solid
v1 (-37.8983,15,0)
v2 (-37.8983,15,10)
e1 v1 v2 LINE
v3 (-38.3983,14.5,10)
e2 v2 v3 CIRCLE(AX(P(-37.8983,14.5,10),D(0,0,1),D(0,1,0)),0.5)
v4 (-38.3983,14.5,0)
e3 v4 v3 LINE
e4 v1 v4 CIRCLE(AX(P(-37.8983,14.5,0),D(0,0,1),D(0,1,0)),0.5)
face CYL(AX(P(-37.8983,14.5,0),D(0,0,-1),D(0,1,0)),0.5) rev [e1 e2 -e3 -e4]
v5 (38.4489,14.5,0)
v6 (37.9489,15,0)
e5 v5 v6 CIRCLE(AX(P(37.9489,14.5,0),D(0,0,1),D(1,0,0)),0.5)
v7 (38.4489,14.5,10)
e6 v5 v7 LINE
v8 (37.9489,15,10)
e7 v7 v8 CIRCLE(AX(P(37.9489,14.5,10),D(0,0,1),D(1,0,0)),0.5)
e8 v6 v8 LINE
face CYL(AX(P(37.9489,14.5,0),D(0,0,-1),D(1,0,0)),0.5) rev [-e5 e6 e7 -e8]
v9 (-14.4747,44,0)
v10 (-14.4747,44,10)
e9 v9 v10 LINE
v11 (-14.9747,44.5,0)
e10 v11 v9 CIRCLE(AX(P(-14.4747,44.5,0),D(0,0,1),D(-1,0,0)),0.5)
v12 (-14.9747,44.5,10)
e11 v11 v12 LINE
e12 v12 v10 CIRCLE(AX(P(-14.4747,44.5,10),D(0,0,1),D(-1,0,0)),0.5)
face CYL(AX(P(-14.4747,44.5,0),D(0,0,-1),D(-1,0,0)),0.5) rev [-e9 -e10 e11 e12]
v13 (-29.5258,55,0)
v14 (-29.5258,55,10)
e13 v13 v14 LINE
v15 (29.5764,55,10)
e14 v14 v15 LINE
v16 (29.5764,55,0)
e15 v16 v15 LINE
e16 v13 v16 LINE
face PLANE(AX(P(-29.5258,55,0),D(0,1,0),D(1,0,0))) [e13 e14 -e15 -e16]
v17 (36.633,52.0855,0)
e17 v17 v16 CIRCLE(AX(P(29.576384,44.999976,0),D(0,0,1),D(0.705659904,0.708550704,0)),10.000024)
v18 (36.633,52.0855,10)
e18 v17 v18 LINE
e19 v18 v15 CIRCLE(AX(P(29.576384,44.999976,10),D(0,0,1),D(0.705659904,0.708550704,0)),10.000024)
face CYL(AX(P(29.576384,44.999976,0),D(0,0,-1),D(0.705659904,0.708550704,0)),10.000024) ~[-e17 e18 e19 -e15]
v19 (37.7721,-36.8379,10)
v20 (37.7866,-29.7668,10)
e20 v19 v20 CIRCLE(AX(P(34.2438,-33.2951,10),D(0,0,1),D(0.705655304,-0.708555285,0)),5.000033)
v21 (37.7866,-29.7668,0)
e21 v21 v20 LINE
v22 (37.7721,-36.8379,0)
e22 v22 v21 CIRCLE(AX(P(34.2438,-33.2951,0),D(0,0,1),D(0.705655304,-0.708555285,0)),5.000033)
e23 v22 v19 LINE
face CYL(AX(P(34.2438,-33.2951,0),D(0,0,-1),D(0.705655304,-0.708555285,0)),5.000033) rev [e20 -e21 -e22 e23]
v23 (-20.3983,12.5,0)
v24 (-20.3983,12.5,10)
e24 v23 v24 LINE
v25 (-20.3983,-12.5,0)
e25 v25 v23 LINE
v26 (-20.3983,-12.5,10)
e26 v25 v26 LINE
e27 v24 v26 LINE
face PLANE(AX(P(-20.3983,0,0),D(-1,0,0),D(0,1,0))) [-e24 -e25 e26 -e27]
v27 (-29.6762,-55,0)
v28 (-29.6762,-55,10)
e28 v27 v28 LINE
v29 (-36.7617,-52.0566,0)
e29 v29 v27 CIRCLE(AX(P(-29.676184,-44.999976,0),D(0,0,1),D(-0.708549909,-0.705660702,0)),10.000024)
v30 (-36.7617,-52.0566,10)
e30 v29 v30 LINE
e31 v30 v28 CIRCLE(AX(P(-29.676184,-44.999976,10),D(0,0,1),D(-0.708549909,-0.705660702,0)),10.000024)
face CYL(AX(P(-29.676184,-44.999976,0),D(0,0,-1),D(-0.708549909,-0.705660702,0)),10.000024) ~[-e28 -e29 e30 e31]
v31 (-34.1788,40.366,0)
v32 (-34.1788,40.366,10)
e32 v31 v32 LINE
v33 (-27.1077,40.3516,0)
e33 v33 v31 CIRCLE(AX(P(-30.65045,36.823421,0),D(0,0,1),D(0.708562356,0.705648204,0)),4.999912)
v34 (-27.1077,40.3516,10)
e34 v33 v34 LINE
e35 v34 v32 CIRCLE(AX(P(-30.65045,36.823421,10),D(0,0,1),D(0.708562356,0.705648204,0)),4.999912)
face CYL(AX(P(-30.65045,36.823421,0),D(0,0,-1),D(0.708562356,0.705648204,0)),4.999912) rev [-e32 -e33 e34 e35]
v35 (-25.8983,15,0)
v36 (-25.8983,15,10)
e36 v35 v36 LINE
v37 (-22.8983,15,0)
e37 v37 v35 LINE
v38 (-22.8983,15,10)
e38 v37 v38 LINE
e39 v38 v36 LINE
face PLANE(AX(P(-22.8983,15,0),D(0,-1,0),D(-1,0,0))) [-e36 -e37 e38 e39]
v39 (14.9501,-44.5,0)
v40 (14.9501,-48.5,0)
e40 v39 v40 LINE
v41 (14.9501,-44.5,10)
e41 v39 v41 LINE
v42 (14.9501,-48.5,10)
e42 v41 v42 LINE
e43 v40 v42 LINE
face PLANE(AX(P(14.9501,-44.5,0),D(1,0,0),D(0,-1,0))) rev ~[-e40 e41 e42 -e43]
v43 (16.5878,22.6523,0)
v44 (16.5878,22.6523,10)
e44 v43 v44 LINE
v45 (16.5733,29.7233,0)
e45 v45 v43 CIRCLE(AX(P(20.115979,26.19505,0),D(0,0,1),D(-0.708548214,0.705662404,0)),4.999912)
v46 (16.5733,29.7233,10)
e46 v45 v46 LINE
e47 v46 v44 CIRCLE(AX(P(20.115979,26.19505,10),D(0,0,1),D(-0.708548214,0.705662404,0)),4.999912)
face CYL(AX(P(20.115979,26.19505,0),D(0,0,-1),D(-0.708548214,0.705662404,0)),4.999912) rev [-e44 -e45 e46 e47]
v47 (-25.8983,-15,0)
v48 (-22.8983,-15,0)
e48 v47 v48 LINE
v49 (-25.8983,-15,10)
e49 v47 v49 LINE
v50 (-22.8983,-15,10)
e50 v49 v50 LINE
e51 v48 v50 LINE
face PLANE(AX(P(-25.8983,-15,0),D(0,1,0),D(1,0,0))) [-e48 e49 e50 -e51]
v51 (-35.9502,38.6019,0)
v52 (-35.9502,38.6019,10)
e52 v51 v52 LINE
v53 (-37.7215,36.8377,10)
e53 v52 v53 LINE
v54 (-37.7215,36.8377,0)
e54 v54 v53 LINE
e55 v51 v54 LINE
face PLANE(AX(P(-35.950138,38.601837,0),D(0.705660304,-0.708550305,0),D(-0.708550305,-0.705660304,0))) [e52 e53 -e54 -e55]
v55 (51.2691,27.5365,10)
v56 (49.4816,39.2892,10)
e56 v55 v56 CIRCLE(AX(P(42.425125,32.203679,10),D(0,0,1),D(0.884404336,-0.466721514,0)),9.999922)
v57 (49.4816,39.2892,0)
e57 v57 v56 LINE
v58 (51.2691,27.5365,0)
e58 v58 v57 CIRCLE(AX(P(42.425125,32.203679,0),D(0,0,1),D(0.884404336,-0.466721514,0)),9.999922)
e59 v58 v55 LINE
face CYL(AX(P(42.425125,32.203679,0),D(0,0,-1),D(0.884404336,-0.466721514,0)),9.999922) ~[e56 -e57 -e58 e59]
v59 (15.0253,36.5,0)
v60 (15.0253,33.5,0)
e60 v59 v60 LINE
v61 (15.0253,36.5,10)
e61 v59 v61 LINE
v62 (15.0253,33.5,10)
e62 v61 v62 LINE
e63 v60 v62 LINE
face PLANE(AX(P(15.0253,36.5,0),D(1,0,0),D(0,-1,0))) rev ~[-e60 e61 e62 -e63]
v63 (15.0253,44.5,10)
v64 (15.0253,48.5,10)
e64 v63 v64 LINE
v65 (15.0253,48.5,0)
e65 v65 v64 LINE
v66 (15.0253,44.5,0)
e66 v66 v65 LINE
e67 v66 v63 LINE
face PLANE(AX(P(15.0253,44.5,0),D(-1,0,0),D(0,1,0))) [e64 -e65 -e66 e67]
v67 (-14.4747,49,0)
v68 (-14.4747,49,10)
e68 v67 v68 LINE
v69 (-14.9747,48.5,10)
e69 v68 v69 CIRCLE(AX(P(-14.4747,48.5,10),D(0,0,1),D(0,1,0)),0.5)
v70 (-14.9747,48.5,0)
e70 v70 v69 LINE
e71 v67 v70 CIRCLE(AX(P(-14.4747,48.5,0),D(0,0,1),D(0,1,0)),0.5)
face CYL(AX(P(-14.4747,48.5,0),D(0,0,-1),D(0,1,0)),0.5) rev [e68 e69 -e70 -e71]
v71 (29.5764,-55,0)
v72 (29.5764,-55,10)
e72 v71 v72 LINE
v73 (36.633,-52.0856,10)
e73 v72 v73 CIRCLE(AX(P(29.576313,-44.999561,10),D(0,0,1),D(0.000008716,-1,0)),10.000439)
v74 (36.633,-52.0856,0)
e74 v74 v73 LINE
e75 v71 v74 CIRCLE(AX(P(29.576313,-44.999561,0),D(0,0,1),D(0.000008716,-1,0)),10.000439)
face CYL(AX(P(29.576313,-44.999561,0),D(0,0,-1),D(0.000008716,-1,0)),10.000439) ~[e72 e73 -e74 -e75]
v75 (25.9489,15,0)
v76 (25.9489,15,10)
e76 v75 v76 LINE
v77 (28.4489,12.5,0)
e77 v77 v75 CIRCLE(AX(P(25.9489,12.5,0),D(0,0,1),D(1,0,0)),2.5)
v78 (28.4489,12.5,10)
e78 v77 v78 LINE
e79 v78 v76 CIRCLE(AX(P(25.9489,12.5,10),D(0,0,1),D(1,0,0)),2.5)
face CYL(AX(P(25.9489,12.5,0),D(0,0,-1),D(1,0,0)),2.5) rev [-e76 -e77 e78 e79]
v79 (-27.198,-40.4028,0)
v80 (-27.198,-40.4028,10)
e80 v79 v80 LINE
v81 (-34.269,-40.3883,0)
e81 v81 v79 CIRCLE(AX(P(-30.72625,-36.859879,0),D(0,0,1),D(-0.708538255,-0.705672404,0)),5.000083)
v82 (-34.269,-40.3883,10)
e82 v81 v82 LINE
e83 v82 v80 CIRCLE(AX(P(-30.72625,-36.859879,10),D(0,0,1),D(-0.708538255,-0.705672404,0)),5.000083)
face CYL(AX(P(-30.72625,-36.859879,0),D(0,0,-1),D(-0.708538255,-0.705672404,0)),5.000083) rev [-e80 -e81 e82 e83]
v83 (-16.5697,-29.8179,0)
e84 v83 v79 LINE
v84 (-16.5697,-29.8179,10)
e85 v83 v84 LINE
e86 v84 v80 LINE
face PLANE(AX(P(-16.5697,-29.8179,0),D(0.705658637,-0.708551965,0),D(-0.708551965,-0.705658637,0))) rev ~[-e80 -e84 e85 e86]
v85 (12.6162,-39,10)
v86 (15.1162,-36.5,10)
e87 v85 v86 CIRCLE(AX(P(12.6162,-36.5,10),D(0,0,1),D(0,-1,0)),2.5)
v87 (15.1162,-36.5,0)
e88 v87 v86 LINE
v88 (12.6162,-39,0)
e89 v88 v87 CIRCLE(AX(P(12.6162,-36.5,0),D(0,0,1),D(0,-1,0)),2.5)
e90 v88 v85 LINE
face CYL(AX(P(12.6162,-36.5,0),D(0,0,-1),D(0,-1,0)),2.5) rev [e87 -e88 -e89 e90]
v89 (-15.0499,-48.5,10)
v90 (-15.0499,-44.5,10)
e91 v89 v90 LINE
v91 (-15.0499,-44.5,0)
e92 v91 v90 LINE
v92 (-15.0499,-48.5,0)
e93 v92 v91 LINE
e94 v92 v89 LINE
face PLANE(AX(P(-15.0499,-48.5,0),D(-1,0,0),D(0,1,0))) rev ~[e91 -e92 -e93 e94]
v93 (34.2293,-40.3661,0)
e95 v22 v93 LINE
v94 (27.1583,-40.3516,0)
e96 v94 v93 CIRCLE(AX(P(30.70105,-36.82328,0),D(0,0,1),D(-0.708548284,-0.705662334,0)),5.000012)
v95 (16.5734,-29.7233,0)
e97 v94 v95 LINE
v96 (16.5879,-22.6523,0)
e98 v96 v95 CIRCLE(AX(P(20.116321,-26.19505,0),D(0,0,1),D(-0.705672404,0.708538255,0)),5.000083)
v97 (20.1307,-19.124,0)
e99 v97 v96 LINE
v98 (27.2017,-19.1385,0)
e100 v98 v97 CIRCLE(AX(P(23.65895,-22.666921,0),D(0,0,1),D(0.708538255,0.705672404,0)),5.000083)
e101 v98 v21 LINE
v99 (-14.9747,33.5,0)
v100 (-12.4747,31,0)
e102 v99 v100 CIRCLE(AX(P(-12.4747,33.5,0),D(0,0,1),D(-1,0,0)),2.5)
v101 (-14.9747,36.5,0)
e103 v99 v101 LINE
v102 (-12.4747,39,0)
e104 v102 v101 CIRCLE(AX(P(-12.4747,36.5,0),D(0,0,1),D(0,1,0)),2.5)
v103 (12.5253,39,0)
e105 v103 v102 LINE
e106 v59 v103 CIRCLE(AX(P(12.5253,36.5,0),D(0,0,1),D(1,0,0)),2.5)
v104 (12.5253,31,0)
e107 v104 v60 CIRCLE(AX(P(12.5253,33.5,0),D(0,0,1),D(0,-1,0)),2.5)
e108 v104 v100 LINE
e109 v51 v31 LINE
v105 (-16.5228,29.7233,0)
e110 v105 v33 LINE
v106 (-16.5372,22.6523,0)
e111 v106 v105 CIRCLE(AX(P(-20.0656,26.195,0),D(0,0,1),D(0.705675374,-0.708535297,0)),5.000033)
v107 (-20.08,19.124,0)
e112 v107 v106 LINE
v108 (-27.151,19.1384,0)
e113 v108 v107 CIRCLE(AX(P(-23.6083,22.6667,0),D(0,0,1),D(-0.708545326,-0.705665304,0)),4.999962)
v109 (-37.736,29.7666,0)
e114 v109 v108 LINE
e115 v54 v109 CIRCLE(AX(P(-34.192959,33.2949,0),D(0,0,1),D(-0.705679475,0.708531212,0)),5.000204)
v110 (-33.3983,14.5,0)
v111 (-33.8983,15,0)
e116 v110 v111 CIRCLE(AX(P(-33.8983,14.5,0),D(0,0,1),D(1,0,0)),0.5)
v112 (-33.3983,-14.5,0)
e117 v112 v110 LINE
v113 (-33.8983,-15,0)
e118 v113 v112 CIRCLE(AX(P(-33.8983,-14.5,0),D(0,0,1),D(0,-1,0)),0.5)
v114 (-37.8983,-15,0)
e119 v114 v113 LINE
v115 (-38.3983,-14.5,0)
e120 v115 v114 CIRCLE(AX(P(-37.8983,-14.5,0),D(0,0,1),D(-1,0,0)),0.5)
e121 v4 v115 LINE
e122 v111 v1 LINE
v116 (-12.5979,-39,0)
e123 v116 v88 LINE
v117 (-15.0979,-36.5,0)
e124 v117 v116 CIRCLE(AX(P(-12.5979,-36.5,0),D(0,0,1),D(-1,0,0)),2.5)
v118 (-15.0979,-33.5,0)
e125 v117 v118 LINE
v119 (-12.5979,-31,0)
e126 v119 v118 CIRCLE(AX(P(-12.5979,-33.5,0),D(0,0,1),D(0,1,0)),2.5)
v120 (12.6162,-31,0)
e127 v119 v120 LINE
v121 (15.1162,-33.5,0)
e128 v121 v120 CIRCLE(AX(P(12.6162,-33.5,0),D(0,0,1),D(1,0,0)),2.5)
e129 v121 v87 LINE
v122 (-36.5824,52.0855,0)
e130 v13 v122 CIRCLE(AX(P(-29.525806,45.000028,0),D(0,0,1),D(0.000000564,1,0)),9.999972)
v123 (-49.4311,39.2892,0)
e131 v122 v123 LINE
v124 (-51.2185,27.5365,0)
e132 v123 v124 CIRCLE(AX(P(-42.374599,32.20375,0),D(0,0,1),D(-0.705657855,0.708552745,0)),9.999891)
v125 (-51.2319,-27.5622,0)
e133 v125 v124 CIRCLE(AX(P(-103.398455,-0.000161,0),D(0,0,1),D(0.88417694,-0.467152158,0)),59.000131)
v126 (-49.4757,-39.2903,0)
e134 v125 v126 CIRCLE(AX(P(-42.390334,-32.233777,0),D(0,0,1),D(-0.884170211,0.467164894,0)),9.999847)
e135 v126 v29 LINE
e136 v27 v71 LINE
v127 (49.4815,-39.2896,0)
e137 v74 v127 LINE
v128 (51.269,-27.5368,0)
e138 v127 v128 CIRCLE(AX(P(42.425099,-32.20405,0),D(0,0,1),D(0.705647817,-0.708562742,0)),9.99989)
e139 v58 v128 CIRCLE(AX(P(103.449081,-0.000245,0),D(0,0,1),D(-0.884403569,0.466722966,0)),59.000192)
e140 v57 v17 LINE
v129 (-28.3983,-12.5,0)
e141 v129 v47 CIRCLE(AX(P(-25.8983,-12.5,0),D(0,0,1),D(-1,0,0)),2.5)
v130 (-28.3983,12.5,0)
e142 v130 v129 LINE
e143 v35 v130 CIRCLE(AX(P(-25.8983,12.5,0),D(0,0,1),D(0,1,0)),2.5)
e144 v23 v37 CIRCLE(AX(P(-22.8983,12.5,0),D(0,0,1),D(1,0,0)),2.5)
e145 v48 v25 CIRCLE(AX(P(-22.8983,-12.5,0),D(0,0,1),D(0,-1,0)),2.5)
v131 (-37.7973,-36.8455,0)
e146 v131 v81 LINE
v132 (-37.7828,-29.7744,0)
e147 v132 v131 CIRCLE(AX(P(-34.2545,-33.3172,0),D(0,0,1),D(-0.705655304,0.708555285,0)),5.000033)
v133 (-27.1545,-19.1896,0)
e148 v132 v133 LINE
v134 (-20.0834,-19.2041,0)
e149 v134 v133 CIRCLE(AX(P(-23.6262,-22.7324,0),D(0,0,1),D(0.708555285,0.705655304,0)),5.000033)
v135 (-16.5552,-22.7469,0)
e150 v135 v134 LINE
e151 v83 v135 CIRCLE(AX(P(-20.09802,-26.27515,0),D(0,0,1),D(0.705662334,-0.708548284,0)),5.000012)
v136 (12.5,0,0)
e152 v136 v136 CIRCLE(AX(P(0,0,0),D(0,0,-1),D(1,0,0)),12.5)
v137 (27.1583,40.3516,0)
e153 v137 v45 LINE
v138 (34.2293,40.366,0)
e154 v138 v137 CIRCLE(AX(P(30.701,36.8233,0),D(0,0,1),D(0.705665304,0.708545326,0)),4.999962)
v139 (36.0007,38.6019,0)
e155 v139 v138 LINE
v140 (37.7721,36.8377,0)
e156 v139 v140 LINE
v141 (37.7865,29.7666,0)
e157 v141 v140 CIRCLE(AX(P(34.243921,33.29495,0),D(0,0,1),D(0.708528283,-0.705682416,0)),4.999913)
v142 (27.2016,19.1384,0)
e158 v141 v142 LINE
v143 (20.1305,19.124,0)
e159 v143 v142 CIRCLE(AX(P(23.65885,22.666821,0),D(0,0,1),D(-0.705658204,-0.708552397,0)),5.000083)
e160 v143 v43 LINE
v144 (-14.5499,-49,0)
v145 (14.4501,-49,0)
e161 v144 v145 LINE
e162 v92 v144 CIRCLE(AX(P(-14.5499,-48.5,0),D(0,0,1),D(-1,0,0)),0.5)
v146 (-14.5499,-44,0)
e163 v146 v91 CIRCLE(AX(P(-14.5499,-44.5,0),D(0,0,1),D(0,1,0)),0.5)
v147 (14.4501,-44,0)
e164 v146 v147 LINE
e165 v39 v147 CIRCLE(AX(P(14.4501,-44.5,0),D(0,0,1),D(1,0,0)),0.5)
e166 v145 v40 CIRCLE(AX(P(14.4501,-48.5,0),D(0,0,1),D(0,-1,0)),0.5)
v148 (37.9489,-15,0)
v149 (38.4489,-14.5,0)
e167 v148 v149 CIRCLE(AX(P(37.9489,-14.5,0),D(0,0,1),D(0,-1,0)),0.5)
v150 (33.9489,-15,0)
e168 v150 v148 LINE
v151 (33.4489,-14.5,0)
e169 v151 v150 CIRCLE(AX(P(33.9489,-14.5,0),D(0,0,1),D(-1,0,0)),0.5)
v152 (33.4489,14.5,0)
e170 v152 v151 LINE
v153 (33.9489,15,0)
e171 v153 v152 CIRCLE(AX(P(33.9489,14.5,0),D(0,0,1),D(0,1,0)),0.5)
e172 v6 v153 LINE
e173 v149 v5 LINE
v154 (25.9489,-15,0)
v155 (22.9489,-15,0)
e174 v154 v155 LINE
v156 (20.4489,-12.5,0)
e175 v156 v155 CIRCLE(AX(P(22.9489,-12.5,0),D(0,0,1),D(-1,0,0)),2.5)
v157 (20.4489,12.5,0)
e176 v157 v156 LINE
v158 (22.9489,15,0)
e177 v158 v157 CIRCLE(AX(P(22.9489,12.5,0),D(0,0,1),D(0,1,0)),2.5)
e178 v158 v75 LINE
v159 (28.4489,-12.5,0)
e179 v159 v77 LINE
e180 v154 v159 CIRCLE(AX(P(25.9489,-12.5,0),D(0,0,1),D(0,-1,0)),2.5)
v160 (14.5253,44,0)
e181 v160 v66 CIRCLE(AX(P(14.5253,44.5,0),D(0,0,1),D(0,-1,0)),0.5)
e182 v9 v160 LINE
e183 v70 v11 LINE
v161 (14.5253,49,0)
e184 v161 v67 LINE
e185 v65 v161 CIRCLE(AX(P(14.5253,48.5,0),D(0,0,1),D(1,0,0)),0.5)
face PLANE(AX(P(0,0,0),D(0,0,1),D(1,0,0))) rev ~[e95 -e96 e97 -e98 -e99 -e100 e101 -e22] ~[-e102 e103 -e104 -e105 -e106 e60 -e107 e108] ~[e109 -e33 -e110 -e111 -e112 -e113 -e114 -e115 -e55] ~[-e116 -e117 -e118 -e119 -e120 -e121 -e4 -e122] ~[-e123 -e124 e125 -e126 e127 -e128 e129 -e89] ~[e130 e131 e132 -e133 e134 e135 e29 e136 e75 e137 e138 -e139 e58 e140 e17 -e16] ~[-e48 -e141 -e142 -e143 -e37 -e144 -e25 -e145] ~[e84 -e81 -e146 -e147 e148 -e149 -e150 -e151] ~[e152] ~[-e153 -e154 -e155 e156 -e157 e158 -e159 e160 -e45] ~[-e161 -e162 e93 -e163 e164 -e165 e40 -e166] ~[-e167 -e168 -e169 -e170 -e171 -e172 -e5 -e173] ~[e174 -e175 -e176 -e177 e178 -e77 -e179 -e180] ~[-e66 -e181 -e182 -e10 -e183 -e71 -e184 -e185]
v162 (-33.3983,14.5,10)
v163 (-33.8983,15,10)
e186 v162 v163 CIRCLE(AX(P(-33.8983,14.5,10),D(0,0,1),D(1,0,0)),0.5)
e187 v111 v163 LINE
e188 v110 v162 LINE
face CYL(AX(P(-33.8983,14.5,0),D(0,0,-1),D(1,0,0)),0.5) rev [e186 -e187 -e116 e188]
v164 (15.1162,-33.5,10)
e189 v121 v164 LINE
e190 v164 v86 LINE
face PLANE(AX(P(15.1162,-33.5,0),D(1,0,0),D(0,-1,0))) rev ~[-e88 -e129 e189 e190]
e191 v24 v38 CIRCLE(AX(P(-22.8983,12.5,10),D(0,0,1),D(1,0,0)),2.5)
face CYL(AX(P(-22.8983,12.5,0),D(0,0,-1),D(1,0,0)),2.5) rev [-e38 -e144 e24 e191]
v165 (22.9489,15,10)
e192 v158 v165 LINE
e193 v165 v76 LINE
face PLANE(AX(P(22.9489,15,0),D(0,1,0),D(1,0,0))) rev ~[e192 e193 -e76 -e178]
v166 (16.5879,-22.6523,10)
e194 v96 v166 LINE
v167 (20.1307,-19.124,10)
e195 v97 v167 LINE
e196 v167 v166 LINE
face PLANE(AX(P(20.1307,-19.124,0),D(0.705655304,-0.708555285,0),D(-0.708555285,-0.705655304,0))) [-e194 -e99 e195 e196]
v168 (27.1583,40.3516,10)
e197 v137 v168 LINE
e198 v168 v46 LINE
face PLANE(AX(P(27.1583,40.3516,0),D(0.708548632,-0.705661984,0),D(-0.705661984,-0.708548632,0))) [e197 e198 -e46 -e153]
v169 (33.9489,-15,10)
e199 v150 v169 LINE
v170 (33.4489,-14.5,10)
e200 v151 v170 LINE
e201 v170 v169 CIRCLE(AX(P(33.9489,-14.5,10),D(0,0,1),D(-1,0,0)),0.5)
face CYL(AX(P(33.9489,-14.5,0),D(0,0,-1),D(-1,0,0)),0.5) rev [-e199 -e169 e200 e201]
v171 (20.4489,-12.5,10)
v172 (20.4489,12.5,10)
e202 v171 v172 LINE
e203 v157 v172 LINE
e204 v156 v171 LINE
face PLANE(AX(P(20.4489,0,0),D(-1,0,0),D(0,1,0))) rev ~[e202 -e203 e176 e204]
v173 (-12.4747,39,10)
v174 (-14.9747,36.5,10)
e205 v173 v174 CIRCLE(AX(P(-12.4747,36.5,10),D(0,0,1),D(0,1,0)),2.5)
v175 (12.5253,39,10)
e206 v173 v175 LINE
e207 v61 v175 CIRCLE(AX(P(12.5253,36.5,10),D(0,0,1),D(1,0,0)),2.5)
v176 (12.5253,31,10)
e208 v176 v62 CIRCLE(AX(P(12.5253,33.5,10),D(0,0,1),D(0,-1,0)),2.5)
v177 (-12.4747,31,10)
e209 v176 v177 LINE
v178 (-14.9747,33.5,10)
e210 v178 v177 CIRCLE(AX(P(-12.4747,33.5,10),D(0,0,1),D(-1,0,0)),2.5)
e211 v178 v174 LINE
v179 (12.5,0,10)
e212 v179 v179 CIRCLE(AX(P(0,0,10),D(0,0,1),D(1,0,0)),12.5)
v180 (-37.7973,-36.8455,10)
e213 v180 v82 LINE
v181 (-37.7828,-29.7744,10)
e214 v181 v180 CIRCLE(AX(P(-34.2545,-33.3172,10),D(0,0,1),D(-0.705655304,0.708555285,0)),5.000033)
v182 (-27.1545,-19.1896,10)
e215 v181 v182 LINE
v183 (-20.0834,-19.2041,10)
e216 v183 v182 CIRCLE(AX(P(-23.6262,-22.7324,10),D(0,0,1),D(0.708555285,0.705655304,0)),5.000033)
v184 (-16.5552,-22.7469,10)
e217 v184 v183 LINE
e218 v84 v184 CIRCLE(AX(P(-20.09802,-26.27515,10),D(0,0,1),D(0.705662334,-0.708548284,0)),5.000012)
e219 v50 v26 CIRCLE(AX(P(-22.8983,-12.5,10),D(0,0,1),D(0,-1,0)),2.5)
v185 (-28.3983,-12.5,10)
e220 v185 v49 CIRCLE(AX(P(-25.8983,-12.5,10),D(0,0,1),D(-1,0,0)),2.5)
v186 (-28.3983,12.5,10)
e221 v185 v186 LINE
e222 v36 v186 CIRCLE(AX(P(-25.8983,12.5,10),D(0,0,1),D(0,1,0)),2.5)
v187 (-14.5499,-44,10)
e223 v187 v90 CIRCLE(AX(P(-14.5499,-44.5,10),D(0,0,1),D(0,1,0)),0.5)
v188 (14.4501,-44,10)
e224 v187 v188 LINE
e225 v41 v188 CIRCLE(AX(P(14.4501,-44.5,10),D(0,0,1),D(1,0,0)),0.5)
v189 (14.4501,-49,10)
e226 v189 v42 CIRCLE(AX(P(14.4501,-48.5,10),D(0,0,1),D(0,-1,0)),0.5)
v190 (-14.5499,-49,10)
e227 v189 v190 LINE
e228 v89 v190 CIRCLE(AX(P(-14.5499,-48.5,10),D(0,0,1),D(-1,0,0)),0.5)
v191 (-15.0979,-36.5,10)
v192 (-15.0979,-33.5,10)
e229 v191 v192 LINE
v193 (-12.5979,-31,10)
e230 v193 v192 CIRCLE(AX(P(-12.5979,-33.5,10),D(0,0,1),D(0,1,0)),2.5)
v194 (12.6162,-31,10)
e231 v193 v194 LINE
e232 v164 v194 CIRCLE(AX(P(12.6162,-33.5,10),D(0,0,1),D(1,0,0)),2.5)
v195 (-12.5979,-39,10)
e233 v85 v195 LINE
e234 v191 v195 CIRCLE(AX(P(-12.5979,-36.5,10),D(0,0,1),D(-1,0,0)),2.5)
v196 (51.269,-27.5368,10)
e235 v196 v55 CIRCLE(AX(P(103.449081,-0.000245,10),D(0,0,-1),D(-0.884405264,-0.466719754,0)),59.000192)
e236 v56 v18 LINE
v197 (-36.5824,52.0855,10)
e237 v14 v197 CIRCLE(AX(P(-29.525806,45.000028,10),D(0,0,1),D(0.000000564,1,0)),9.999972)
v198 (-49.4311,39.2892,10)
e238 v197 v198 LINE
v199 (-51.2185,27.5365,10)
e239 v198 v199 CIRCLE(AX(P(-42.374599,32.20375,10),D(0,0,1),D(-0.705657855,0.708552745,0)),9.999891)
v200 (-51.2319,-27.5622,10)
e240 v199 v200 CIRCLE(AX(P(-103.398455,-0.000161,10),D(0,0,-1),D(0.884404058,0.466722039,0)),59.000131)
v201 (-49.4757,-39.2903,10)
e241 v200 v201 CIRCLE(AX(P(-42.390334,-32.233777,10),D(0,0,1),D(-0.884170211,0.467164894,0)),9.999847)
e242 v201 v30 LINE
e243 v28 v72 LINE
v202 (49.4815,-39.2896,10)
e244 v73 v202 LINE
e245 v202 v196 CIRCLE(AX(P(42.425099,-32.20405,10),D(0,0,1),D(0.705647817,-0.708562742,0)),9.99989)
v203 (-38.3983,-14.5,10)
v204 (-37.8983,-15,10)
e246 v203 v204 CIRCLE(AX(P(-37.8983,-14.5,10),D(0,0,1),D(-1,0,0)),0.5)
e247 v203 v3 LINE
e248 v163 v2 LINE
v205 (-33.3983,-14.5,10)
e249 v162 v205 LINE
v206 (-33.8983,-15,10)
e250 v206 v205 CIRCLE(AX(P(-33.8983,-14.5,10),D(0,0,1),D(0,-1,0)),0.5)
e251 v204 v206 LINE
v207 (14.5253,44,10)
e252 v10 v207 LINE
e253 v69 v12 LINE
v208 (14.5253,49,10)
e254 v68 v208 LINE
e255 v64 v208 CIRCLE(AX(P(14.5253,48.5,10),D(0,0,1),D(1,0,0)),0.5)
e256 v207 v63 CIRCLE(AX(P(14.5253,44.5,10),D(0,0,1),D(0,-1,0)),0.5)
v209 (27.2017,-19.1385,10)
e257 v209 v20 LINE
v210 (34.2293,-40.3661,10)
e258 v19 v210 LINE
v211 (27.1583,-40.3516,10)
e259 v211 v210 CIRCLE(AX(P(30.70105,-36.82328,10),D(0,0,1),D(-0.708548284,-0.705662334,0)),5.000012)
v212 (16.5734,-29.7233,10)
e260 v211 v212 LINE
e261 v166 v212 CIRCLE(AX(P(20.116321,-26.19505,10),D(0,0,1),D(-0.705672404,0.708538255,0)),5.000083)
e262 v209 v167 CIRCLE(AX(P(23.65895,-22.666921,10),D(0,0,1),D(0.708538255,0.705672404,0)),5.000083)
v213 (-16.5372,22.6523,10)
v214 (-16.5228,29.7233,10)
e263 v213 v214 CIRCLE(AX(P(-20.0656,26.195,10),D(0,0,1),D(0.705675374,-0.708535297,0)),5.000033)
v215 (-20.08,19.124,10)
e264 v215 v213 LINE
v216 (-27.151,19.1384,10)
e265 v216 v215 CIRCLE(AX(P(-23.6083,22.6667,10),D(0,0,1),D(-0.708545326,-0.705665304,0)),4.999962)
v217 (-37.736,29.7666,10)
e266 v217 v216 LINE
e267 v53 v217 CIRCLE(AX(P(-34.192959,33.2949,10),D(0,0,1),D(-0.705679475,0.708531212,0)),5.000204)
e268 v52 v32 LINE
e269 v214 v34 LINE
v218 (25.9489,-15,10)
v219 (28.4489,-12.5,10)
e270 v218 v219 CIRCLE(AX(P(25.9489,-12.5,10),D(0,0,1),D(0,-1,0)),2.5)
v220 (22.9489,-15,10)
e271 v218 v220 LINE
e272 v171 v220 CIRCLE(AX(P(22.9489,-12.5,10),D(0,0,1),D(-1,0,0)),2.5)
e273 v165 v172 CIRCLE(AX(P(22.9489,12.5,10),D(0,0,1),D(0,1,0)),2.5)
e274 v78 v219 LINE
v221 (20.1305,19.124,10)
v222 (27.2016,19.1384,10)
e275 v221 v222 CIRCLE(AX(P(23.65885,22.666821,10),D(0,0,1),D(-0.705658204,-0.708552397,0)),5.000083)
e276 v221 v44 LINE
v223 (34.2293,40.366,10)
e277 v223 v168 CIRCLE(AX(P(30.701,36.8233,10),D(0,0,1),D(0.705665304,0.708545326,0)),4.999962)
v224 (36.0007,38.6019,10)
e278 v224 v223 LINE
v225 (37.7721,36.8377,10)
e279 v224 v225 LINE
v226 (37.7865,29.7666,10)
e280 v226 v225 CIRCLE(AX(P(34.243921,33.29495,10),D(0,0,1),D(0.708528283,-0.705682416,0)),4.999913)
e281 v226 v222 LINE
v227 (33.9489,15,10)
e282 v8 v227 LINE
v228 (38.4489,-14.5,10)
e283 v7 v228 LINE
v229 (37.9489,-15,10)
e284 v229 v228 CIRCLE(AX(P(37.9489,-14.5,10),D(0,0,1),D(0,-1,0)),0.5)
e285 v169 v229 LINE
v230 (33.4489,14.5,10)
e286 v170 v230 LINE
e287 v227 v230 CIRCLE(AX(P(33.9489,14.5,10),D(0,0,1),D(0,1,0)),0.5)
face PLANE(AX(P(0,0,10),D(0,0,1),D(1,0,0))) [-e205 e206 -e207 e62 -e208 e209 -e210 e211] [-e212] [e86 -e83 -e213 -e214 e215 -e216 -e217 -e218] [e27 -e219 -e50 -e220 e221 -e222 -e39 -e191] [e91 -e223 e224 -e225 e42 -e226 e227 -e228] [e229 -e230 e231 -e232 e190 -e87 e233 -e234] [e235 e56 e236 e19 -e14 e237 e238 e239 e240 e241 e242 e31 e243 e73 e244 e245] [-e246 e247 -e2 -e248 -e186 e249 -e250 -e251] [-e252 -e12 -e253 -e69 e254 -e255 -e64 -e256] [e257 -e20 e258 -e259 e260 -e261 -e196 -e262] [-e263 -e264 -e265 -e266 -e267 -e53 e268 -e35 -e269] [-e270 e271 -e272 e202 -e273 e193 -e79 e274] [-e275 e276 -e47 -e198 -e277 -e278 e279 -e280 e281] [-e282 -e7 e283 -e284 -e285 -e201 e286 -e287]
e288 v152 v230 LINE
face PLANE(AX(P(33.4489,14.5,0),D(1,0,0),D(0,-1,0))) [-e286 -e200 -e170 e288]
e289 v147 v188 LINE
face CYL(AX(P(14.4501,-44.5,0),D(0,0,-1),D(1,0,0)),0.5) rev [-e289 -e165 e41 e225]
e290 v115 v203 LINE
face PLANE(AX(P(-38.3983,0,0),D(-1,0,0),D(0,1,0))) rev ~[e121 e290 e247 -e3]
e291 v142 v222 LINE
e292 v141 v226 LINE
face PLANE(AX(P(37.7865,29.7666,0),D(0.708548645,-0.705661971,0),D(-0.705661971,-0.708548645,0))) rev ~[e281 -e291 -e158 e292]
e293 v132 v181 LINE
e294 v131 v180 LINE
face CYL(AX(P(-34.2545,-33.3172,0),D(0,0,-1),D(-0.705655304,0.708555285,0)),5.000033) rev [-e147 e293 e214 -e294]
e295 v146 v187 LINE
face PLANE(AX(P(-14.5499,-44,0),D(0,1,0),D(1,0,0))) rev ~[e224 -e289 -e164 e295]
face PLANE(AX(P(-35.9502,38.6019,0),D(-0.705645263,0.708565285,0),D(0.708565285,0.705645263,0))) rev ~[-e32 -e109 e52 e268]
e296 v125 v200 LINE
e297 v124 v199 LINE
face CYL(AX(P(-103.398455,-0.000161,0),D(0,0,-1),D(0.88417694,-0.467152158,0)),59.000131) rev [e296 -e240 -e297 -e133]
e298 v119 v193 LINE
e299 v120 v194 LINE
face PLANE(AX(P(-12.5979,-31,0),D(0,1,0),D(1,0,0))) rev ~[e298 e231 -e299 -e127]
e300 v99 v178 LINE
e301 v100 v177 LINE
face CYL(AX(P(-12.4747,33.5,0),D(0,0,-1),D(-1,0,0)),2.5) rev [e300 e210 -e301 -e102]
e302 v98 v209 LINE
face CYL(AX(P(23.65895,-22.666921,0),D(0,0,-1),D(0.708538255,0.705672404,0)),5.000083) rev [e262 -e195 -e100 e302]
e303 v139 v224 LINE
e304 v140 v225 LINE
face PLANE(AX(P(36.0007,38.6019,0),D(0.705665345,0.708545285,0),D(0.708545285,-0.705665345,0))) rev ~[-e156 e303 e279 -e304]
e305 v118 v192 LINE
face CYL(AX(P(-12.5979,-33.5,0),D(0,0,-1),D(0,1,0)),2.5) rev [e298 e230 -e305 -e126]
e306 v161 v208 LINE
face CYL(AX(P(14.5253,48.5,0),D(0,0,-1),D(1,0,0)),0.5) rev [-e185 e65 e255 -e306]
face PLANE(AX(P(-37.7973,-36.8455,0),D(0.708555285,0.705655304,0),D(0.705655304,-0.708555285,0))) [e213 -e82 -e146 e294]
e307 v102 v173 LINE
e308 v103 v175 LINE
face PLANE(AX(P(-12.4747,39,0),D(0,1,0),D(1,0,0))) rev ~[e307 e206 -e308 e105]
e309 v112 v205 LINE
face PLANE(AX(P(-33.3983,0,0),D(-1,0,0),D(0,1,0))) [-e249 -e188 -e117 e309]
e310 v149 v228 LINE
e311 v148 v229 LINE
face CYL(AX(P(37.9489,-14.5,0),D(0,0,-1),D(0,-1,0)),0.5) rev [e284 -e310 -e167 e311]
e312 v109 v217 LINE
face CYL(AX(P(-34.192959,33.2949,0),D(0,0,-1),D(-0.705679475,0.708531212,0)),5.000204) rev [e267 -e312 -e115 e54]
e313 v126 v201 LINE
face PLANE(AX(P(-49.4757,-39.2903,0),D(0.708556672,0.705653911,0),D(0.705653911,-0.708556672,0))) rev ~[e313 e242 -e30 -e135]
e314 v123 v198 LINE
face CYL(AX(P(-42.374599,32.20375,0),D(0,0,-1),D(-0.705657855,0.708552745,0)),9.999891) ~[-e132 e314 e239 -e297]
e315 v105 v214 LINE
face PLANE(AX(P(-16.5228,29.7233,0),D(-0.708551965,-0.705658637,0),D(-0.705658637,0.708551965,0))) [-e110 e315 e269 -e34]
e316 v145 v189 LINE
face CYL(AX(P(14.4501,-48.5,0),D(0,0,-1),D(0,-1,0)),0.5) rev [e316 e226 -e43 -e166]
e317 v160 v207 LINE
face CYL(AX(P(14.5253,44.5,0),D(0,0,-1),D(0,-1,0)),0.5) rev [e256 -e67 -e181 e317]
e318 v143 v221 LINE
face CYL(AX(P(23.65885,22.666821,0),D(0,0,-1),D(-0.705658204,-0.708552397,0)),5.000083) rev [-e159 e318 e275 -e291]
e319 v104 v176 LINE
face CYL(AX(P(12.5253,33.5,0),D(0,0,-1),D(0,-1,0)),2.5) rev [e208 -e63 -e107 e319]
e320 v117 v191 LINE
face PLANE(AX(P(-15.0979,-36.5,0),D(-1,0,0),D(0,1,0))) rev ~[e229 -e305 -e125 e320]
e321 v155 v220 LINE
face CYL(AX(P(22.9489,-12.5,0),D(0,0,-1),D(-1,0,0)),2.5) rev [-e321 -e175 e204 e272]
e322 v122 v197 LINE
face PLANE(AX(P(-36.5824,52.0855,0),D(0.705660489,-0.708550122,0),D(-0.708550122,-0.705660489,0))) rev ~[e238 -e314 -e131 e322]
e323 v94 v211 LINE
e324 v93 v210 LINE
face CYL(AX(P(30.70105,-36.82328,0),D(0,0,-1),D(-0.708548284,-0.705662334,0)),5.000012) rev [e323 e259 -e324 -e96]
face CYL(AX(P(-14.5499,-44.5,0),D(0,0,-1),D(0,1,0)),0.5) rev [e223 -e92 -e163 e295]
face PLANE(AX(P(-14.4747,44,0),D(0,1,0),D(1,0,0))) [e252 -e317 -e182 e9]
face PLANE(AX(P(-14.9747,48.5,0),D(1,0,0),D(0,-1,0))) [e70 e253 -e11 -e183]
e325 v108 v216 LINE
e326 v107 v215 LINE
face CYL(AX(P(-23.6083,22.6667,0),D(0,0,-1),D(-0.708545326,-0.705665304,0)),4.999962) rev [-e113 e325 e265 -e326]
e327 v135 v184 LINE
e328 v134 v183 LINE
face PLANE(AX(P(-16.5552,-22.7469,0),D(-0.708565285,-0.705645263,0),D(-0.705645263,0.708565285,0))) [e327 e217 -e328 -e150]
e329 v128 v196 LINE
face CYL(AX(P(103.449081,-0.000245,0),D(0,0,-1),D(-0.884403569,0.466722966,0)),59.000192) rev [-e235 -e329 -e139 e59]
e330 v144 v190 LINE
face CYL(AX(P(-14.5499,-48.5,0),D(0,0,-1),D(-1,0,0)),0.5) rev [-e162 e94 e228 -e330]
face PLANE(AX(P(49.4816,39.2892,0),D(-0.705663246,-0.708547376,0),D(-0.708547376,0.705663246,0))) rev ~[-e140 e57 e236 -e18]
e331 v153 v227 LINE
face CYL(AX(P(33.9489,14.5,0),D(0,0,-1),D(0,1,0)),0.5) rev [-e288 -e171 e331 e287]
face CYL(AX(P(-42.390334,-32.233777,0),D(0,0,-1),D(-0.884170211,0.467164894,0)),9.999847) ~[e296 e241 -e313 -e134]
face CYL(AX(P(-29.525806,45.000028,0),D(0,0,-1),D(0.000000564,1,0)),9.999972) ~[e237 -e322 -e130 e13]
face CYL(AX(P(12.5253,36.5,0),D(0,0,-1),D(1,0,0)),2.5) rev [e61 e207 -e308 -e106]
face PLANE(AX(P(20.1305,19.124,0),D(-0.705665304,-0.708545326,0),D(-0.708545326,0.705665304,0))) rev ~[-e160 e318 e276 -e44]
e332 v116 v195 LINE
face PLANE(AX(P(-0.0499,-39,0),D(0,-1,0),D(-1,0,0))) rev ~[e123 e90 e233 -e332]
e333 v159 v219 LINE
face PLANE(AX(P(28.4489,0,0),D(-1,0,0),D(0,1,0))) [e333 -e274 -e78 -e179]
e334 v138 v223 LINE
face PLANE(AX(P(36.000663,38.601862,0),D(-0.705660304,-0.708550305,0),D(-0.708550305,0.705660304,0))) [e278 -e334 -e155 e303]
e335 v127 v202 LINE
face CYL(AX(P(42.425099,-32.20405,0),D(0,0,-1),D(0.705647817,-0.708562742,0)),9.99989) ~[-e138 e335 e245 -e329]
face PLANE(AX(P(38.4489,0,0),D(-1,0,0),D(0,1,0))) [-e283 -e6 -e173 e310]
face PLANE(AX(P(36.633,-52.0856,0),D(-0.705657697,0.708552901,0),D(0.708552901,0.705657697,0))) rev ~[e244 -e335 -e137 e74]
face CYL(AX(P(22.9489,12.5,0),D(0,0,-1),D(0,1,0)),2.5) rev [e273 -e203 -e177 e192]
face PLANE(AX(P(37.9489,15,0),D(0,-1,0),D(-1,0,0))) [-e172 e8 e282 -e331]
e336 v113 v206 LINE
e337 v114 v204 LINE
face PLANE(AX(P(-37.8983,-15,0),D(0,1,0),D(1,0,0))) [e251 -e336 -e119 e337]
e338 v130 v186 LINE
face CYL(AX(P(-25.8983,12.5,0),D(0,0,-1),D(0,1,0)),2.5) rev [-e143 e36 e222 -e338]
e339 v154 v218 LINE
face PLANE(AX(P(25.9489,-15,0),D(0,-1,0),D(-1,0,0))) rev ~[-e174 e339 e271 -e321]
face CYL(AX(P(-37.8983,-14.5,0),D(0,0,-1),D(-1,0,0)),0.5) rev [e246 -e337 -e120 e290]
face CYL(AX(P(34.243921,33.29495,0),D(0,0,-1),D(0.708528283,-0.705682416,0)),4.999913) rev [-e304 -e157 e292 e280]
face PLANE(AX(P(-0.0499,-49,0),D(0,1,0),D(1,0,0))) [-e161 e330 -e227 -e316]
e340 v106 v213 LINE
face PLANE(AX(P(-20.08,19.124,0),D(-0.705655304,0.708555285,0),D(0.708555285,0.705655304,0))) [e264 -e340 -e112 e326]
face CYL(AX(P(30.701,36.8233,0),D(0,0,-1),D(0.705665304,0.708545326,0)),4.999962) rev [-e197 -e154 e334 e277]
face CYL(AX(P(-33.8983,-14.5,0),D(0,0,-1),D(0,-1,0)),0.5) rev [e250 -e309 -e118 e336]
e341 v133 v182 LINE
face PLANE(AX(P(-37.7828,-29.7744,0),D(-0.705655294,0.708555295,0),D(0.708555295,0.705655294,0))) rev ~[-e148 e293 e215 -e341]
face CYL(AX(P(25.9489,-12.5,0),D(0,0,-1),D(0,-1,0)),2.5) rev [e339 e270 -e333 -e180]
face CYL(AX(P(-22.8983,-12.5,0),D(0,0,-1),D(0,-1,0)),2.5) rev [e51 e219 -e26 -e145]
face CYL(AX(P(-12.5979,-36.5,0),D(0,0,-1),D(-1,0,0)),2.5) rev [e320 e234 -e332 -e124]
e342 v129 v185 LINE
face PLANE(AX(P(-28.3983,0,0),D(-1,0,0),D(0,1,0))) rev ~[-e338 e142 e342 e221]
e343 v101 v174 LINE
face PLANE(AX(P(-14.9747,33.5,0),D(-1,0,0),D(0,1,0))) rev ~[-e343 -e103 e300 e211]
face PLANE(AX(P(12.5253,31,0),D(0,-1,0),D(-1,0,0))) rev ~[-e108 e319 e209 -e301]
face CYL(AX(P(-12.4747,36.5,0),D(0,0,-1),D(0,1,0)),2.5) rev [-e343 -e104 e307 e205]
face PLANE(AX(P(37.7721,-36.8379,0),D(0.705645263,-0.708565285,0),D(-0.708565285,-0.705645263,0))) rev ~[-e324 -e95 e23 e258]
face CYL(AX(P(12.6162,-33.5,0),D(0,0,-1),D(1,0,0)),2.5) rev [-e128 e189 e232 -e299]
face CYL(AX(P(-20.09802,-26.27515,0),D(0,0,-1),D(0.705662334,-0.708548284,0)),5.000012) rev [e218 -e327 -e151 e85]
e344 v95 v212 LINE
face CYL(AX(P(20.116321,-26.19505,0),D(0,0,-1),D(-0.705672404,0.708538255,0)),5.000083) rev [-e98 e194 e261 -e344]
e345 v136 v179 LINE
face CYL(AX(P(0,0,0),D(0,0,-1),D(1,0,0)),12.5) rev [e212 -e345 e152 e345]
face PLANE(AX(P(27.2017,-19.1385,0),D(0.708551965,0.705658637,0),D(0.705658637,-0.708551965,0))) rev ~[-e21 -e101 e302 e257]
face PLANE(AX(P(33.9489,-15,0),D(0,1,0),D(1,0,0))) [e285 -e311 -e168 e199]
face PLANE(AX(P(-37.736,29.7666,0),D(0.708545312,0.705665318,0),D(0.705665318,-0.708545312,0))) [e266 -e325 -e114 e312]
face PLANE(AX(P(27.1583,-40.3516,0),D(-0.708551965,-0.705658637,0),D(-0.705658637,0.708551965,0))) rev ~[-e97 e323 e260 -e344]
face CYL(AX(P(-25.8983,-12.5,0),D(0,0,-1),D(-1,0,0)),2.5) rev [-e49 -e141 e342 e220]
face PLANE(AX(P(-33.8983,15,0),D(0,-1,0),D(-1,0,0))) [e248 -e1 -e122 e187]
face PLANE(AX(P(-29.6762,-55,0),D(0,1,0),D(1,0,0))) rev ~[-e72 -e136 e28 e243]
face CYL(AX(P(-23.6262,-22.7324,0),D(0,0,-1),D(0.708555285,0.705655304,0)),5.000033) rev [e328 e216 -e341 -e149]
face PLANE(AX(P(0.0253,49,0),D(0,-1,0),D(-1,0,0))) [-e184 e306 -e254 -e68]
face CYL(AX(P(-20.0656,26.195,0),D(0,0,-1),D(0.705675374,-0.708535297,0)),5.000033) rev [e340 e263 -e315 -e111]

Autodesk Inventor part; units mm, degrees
ref_plane "YZ Plane" through (0, 0, 0) normal (1, 0, 0) x (0, 1, 0)
ref_plane "XZ Plane" through (0, 0, 0) normal (0, 1, 0) x (-1, 0, 0)
ref_plane "XY Plane" through (0, 0, 0) normal (0, 0, 1) x (1, 0, 0)
sketch "Sketch1" plane through (0, 0, 0) normal (0, 0, 1) x (1, 0, 0)
  line L0 (0, 0) -> (55, 0)
  line L1 (55, 0) -> (-55, 0)
  line L2 (-55, 0) -> (-55, 55)
  line L3 (-55, 33.743) -> (-55, -33.7433)
  line L4 (-29.6762, -55) -> (29.5764, -55)
  line L5 (-29.5258, 55) -> (29.5764, 55)
  line L6 (55.0505, 33.743) -> (55.0505, -33.7433)
  line L7 (-49.4757, -39.2903) -> (-36.7617, -52.0566) construction
  line L8 (-49.4757, -39.2903) -> (-36.7617, -52.0566)
  line L9 (-55, -33.7433) -> (55.0505, -33.7433) construction
  line L10 (-55, -55) -> (-33.8303, -55) construction
  line L11 (55.0505, -55) -> (33.7065, -55) construction
  line L12 (36.633, -52.0856) -> (49.4815, -39.2896)
  line L13 (-55, -55) -> (-55, -33.7433) construction
  line L14 (-55, -55) -> (-55, -33.7433) construction
  line L15 (-55, -33.7433) -> (-55, -55) construction
  line L16 (-55, -33.7433) -> (-55, -55) construction
  line L17 (-55, 55) -> (-55, 33.743) construction
  line L18 (-55, 55) -> (-33.656, 55) construction
  line L19 (-36.5824, 52.0855) -> (-49.4311, 39.2892)
  line L20 (55.0505, 55) -> (47.34, 55) construction
  line L21 (33.7065, 55) -> (55.0505, 55) construction
  line L22 (55.0505, 55) -> (55.0505, 33.743) construction
  line L23 (49.4816, 39.2892) -> (36.633, 52.0855)
  arc A0 (-51.2319, -27.5622) -> (-51.2185, 27.5365) centre (-103.3983, -0.0002) ccw
  arc A1 (51.2691, 27.5365) -> (51.269, -27.5368) centre (103.4489, -0.0002) ccw
  arc A2 (-49.4311, 39.2892) -> (-51.2185, 27.5365) centre (-42.3745, 32.2037) ccw
  arc A3 (-29.5258, 55) -> (-36.5824, 52.0855) centre (-29.5258, 45) ccw
  arc A4 (36.633, 52.0855) -> (29.5764, 55) centre (29.5764, 45) ccw
  arc A5 (51.2691, 27.5365) -> (49.4816, 39.2892) centre (42.425, 32.2037) ccw
  arc A6 (49.4815, -39.2896) -> (51.269, -27.5368) centre (42.425, -32.204) ccw
  arc A7 (29.5764, -55) -> (36.633, -52.0856) centre (29.5764, -45) ccw
  arc A8 (-36.7617, -52.0566) -> (-29.6762, -55) centre (-29.6762, -45) ccw
  arc A9 (-51.2319, -27.5622) -> (-49.4757, -39.2903) centre (-42.3902, -32.2338) ccw
  line L24 (-0.0499, -55) -> (-0.0499, -49) construction
  line L25 (-0.0499, -49) -> (14.4501, -49)
  line L26 (14.9501, -49) -> (-14.5499, -49)
  line L27 (-15.0499, -48.5) -> (-15.0499, -44.5)
  line L28 (-14.5499, -44) -> (14.4501, -44)
  line L29 (14.9501, -44.5) -> (14.9501, -48.5)
  arc A10 (14.4501, -49) -> (14.9501, -48.5) centre (14.4501, -48.5) ccw
  arc A11 (14.9501, -44.5) -> (14.4501, -44) centre (14.4501, -44.5) ccw
  arc A12 (-14.5499, -44) -> (-15.0499, -44.5) centre (-14.5499, -44.5) ccw
  arc A13 (-15.0499, -48.5) -> (-14.5499, -49) centre (-14.5499, -48.5) ccw
  line L30 (-36.0332, -38.6169) -> (-43.1187, -45.6734) construction
  line L31 (-36.0332, -38.6169) -> (-34.269, -40.3883) construction
  line L32 (-34.269, -40.3883) -> (-37.7973, -36.8455) construction
  line L33 (-37.7828, -29.7744) -> (-27.1545, -19.1896) construction
  line L34 (-20.0834, -19.2041) -> (-16.5552, -22.7469) construction
  line L35 (-16.5697, -29.8179) -> (-27.198, -40.4028) construction
  line L36 (-16.5697, -29.8179) -> (-27.198, -40.4028)
  line L37 (-37.7828, -29.7744) -> (-23.6117, -15.6613)
  line L38 (-16.5552, -22.7469) -> (-20.0834, -19.2041)
  arc A14 (-37.7828, -29.7744) -> (-37.7973, -36.8455) centre (-34.2545, -33.3172) ccw
  arc A15 (-34.269, -40.3883) -> (-27.198, -40.4028) centre (-30.7263, -36.86) ccw
  arc A16 (-16.5697, -29.8179) -> (-16.5552, -22.7469) centre (-20.0979, -26.2752) ccw
  arc A17 (-20.0834, -19.2041) -> (-27.1545, -19.1896) centre (-23.6262, -22.7324) ccw
  line L39 (-41.3256, -33.3027) -> (-40.8868, -33.7433)
  line L40 (-37.7973, -36.8455) -> (-34.269, -40.3883)
  line L41 (-42.3902, -32.2338) -> (-34.269, -40.3883) construction
  line L42 (-30.7408, -43.931) -> (-29.6762, -45) construction
  line L43 (-43.1187, -45.6734) -> (43.0572, -45.6876) construction
  line L44 (43.0572, -45.6876) -> (36.0007, -38.602) construction
  line L45 (36.0007, -38.602) -> (37.7721, -36.8379) construction
  line L46 (27.1583, -40.3516) -> (16.5734, -29.7233) construction
  line L47 (13.0451, -26.1805) -> (20.1307, -19.124) construction
  line L48 (27.2017, -19.1385) -> (37.7866, -29.7668) construction
  line L49 (20.1307, -19.124) -> (16.5879, -22.6523)
  line L50 (27.1583, -40.3516) -> (16.5734, -29.7233)
  line L51 (27.2017, -19.1385) -> (37.7866, -29.7668)
  arc A18 (27.2017, -19.1385) -> (20.1307, -19.124) centre (23.659, -22.6668) ccw
  arc A19 (16.5879, -22.6523) -> (16.5734, -29.7233) centre (20.1162, -26.195) ccw
  arc A20 (37.7721, -36.8379) -> (37.7866, -29.7668) centre (34.2438, -33.2951) ccw
  line L52 (41.3149, -33.3096) -> (40.8793, -33.7433) construction
  line L53 (37.7721, -36.8379) -> (34.2293, -40.3661) construction
  line L54 (30.6865, -43.8944) -> (37.7721, -36.8379) construction
  line L55 (40.8793, -33.7433) -> (41.3149, -33.3096) construction
  line L56 (42.425, -32.204) -> (40.8793, -33.7433) construction
  line L57 (37.7721, -36.8379) -> (29.5764, -45) construction
  line L58 (41.3149, -33.3096) -> (40.8793, -33.7433)
  line L59 (37.7721, -36.8379) -> (34.2293, -40.3661)
  arc A21 (27.1583, -40.3516) -> (34.2293, -40.3661) centre (30.701, -36.8234) ccw
  circle A22 centre (0, 0) radius 12.5
  line L60 (-0.0499, -44) -> (-0.0499, -39) construction
  line L61 (-0.0499, -39) -> (12.6162, -39) construction
  line L62 (12.6162, -39) -> (-0.0499, -39)
  line L63 (-0.0499, -39) -> (-12.5979, -39)
  line L64 (-15.0979, -36.5) -> (-15.0979, -33.5)
  line L65 (-12.5979, -31) -> (12.6162, -31)
  line L66 (15.1162, -33.5) -> (15.1162, -36.5)
  arc A23 (15.1162, -33.5) -> (12.6162, -31) centre (12.6162, -33.5) ccw
  arc A24 (12.6162, -39) -> (15.1162, -36.5) centre (12.6162, -36.5) ccw
  arc A25 (-12.5979, -31) -> (-15.0979, -33.5) centre (-12.5979, -33.5) ccw
  arc A26 (-15.0979, -36.5) -> (-12.5979, -39) centre (-12.5979, -36.5) ccw
  line L67 (-44.3983, -0.0145) -> (-38.3983, 0) construction
  line L68 (44.4489, -0.0001) -> (38.4489, 0) construction
  line L69 (-38.3983, 0) -> (-38.3983, 14.5)
  line L70 (-38.3983, 15) -> (-38.3983, -14.5)
  line L71 (-37.8983, -15) -> (-33.8983, -15)
  line L72 (-33.3983, -14.5) -> (-33.3983, 14.5)
  line L73 (-33.8983, 15) -> (-37.8983, 15)
  arc A27 (-33.3983, 14.5) -> (-33.8983, 15) centre (-33.8983, 14.5) ccw
  arc A28 (-37.8983, 15) -> (-38.3983, 14.5) centre (-37.8983, 14.5) ccw
  arc A29 (-38.3983, -14.5) -> (-37.8983, -15) centre (-37.8983, -14.5) ccw
  arc A30 (-33.8983, -15) -> (-33.3983, -14.5) centre (-33.8983, -14.5) ccw
  line L74 (-33.3983, 0) -> (-28.3983, 0) construction
  line L75 (-28.3983, 0) -> (-28.3983, 12.5)
  line L76 (-28.3983, 12.5) -> (-28.3983, -12.5)
  line L77 (-25.8983, -15) -> (-22.8983, -15)
  line L78 (-20.3983, -12.5) -> (-20.3983, 12.5)
  line L79 (-22.8983, 15) -> (-25.8983, 15)
  arc A31 (-20.3983, 12.5) -> (-22.8983, 15) centre (-22.8983, 12.5) ccw
  arc A32 (-25.8983, 15) -> (-28.3983, 12.5) centre (-25.8983, 12.5) ccw
  arc A33 (-28.3983, -12.5) -> (-25.8983, -15) centre (-25.8983, -12.5) ccw
  arc A34 (-22.8983, -15) -> (-20.3983, -12.5) centre (-22.8983, -12.5) ccw
  line L80 (38.4489, 0) -> (38.4489, -14.5)
  line L81 (38.4489, -15) -> (38.4489, 14.5)
  line L82 (37.9489, 15) -> (33.9489, 15)
  line L83 (33.4489, 14.5) -> (33.4489, -14.5)
  line L84 (33.9489, -15) -> (37.9489, -15)
  arc A35 (38.4489, 14.5) -> (37.9489, 15) centre (37.9489, 14.5) ccw
  arc A36 (33.9489, 15) -> (33.4489, 14.5) centre (33.9489, 14.5) ccw
  arc A37 (33.4489, -14.5) -> (33.9489, -15) centre (33.9489, -14.5) ccw
  arc A38 (37.9489, -15) -> (38.4489, -14.5) centre (37.9489, -14.5) ccw
  line L85 (33.4489, 0) -> (28.4489, 0) construction
  line L86 (28.4489, 0) -> (28.4489, 12.5)
  line L87 (28.4489, 15) -> (28.4489, -12.5)
  line L88 (25.9489, -15) -> (22.9489, -15)
  line L89 (20.4489, -12.5) -> (20.4489, 12.5)
  line L90 (22.9489, 15) -> (25.9489, 15)
  arc A39 (28.4489, 12.5) -> (25.9489, 15) centre (25.9489, 12.5) ccw
  arc A40 (22.9489, 15) -> (20.4489, 12.5) centre (22.9489, 12.5) ccw
  arc A41 (20.4489, -12.5) -> (22.9489, -15) centre (22.9489, -12.5) ccw
  arc A42 (25.9489, -15) -> (28.4489, -12.5) centre (25.9489, -12.5) ccw
  line L91 (0.0253, 55) -> (0.0253, 49) construction
  line L92 (0.0253, 49) -> (14.5253, 49)
  line L93 (15.0253, 49) -> (-14.4747, 49)
  line L94 (-14.9747, 48.5) -> (-14.9747, 44.5)
  line L95 (-14.4747, 44) -> (14.5253, 44)
  line L96 (15.0253, 44.5) -> (15.0253, 48.5)
  arc A43 (15.0253, 48.5) -> (14.5253, 49) centre (14.5253, 48.5) ccw
  arc A44 (14.5253, 44) -> (15.0253, 44.5) centre (14.5253, 44.5) ccw
  arc A45 (-14.9747, 44.5) -> (-14.4747, 44) centre (-14.4747, 44.5) ccw
  arc A46 (-14.4747, 49) -> (-14.9747, 48.5) centre (-14.4747, 48.5) ccw
  line L97 (0.0253, 44) -> (0.0253, 39) construction
  line L98 (0.0253, 39) -> (12.5253, 39)
  line L99 (15.0253, 36.5) -> (15.0253, 33.5)
  line L100 (12.5253, 31) -> (-12.4747, 31)
  line L101 (-14.9747, 33.5) -> (-14.9747, 36.5)
  line L102 (-12.4747, 39) -> (0.0253, 39)
  arc A47 (-12.4747, 39) -> (-14.9747, 36.5) centre (-12.4747, 36.5) ccw
  arc A48 (-14.9747, 33.5) -> (-12.4747, 31) centre (-12.4747, 33.5) ccw
  arc A49 (12.5253, 31) -> (15.0253, 33.5) centre (12.5253, 33.5) ccw
  arc A50 (15.0253, 36.5) -> (12.5253, 39) centre (12.5253, 36.5) ccw
  line L103 (29.5764, 45) -> (37.7721, 36.8377) construction
  line L104 (37.7721, 36.8377) -> (36.0007, 38.6019) construction
  line L105 (36.0007, 38.6019) -> (43.0573, 45.6873) construction
  line L106 (36.0007, 38.6019) -> (37.7721, 36.8377)
  line L107 (41.3148, 33.3094) -> (34.2293, 40.366)
  line L108 (27.1583, 40.3516) -> (16.5733, 29.7233)
  line L109 (37.7865, 29.7666) -> (27.2016, 19.1384)
  line L110 (20.1305, 19.124) -> (16.5878, 22.6523)
  arc A51 (37.7865, 29.7666) -> (37.7721, 36.8377) centre (34.2438, 33.295) ccw
  arc A52 (20.1305, 19.124) -> (27.2016, 19.1384) centre (23.6588, 22.6667) ccw
  arc A53 (16.5733, 29.7233) -> (16.5878, 22.6523) centre (20.1161, 26.195) ccw
  arc A54 (34.2293, 40.366) -> (27.1583, 40.3516) centre (30.701, 36.8233) ccw
  line L111 (-42.3745, 32.2037) -> (-29.5258, 45) construction
  line L112 (-29.5258, 45) -> (-35.9502, 38.6019) construction
  line L113 (-43.0068, 45.6873) -> (-35.9502, 38.6019) construction
  line L114 (-35.9502, 38.6019) -> (-34.1788, 40.366)
  line L115 (-30.636, 43.8943) -> (-37.7215, 36.8377)
  line L116 (-37.736, 29.7666) -> (-27.151, 19.1384)
  line L117 (-20.08, 19.124) -> (-16.5372, 22.6523)
  line L118 (-16.5228, 29.7233) -> (-27.1077, 40.3516)
  arc A55 (-27.1077, 40.3516) -> (-34.1788, 40.366) centre (-30.6505, 36.8233) ccw
  arc A56 (-37.7215, 36.8377) -> (-37.736, 29.7666) centre (-34.1932, 33.295) ccw
  arc A57 (-27.151, 19.1384) -> (-20.08, 19.124) centre (-23.6083, 22.6667) ccw
  arc A58 (-16.5372, 22.6523) -> (-16.5228, 29.7233) centre (-20.0656, 26.195) ccw
  point P0 (-15.0499, -49)
  point P1 (-15.0499, -44)
  point P2 (-15.0979, -39)
  point P3 (-15.0979, -31)
  point P4 (-38.3983, -15)
  point P5 (-33.3983, -15)
  point P6 (-28.3983, -15)
  point P7 (-20.3983, -15)
  point P8 (38.4489, 15)
  point P9 (33.4489, 15)
  point P10 (28.4489, -15)
  point P11 (20.4489, -15)
  point P12 (-14.9747, 49)
  point P13 (-14.9747, 44)
  point P14 (15.0253, 39)
  point P15 (15.0253, 31)
  point P16 (-14.9747, 31)
  point P17 (-14.9747, 39)
  point P18 (30.6866, 43.8943)
  point P19 (13.045, 26.1806)
  point P20 (-41.2643, 33.3094)
  point P21 (-23.6227, 15.5957)
  dimension "d0" = 55
  dimension "d1" = 110
  dimension "d2" = 55
  dimension "d3" = 110
  dimension "d4" = 30
  dimension "d5" = 21.344
  dimension "d6" = 21.257
  dimension "d7" = 21.344
  dimension "d8" = 21.344
  dimension "d9" = 21.257
  dimension "d10" = 59
  dimension "d11" = 59
  dimension "d12" = 10
  dimension "d13" = 6
  dimension "d14" = 15
  dimension "d15" = 30
  dimension "d16" = 5
  dimension "d17" = 0.5
  dimension "d18" = 7.5
  dimension "d19" = 15
  dimension "d20" = 25
  dimension "d21" = 5
  dimension "d22" = 7.5
  dimension "d23" = 15
  dimension "d24" = 25
  dimension "d25" = 5
  dimension "d26" = 5
  dimension "d27" = 25
  dimension "d28" = 5
  dimension "d29" = 8
  dimension "d30" = 2.5
  dimension "d31" = 6
  dimension "d32" = 6
  dimension "d33" = 15
  dimension "d34" = 30
  dimension "d35" = 5
  dimension "d36" = 0.5
  dimension "d37" = 5
  dimension "d38" = 8
  dimension "d39" = 2.5
  dimension "d40" = 15
  dimension "d41" = 30
  dimension "d42" = 5
  dimension "d43" = 0.5
  dimension "d44" = 5
  dimension "d45" = 8
  dimension "d46" = 2.5
  dimension "d47" = 6
  dimension "d48" = 15
  dimension "d49" = 30
  dimension "d50" = 5
  dimension "d51" = 0.5
  dimension "d52" = 5
  dimension "d53" = 15
  dimension "d54" = 8
  dimension "d55" = 30
  dimension "d56" = 2.5
  dimension "d57" = 7.5
  dimension "d58" = 15
  dimension "d59" = 25
  dimension "d60" = 5
  dimension "d61" = 7.5
  dimension "d62" = 15
  dimension "d63" = 25
extrude "Extrusion1" add sketch "Sketch1" along normal blind 10 contours A22 L1 L78 A31 L79 A32 L75 L72 A27 L73 A28 L69 A0 A2 L19 A3 L5 A4 L23 A5 A1 L0 L81 A35 L82 A36 L83 L86 A39 L90 A40 L89 | L0 L89 A41 L88 A42 L87 L83 A37 L84 A38 L80 A1 A6 L12 A7 L4 A8 L8 A9 A0 L1 L70 A29 L71 A30 L72 L76 A33 L77 A34 L78 A22
sketch "Sketch2" plane through (0, 0, 10) normal (0, 0, 1) x (1, 0, 0)
  point P0 (0, 0)
sketch "Sketch3" plane through (0, 0, 10) normal (0, 0, 1) x (1, 0, 0)
  point P0 (0, 0)
properties part number "atasandrone"
